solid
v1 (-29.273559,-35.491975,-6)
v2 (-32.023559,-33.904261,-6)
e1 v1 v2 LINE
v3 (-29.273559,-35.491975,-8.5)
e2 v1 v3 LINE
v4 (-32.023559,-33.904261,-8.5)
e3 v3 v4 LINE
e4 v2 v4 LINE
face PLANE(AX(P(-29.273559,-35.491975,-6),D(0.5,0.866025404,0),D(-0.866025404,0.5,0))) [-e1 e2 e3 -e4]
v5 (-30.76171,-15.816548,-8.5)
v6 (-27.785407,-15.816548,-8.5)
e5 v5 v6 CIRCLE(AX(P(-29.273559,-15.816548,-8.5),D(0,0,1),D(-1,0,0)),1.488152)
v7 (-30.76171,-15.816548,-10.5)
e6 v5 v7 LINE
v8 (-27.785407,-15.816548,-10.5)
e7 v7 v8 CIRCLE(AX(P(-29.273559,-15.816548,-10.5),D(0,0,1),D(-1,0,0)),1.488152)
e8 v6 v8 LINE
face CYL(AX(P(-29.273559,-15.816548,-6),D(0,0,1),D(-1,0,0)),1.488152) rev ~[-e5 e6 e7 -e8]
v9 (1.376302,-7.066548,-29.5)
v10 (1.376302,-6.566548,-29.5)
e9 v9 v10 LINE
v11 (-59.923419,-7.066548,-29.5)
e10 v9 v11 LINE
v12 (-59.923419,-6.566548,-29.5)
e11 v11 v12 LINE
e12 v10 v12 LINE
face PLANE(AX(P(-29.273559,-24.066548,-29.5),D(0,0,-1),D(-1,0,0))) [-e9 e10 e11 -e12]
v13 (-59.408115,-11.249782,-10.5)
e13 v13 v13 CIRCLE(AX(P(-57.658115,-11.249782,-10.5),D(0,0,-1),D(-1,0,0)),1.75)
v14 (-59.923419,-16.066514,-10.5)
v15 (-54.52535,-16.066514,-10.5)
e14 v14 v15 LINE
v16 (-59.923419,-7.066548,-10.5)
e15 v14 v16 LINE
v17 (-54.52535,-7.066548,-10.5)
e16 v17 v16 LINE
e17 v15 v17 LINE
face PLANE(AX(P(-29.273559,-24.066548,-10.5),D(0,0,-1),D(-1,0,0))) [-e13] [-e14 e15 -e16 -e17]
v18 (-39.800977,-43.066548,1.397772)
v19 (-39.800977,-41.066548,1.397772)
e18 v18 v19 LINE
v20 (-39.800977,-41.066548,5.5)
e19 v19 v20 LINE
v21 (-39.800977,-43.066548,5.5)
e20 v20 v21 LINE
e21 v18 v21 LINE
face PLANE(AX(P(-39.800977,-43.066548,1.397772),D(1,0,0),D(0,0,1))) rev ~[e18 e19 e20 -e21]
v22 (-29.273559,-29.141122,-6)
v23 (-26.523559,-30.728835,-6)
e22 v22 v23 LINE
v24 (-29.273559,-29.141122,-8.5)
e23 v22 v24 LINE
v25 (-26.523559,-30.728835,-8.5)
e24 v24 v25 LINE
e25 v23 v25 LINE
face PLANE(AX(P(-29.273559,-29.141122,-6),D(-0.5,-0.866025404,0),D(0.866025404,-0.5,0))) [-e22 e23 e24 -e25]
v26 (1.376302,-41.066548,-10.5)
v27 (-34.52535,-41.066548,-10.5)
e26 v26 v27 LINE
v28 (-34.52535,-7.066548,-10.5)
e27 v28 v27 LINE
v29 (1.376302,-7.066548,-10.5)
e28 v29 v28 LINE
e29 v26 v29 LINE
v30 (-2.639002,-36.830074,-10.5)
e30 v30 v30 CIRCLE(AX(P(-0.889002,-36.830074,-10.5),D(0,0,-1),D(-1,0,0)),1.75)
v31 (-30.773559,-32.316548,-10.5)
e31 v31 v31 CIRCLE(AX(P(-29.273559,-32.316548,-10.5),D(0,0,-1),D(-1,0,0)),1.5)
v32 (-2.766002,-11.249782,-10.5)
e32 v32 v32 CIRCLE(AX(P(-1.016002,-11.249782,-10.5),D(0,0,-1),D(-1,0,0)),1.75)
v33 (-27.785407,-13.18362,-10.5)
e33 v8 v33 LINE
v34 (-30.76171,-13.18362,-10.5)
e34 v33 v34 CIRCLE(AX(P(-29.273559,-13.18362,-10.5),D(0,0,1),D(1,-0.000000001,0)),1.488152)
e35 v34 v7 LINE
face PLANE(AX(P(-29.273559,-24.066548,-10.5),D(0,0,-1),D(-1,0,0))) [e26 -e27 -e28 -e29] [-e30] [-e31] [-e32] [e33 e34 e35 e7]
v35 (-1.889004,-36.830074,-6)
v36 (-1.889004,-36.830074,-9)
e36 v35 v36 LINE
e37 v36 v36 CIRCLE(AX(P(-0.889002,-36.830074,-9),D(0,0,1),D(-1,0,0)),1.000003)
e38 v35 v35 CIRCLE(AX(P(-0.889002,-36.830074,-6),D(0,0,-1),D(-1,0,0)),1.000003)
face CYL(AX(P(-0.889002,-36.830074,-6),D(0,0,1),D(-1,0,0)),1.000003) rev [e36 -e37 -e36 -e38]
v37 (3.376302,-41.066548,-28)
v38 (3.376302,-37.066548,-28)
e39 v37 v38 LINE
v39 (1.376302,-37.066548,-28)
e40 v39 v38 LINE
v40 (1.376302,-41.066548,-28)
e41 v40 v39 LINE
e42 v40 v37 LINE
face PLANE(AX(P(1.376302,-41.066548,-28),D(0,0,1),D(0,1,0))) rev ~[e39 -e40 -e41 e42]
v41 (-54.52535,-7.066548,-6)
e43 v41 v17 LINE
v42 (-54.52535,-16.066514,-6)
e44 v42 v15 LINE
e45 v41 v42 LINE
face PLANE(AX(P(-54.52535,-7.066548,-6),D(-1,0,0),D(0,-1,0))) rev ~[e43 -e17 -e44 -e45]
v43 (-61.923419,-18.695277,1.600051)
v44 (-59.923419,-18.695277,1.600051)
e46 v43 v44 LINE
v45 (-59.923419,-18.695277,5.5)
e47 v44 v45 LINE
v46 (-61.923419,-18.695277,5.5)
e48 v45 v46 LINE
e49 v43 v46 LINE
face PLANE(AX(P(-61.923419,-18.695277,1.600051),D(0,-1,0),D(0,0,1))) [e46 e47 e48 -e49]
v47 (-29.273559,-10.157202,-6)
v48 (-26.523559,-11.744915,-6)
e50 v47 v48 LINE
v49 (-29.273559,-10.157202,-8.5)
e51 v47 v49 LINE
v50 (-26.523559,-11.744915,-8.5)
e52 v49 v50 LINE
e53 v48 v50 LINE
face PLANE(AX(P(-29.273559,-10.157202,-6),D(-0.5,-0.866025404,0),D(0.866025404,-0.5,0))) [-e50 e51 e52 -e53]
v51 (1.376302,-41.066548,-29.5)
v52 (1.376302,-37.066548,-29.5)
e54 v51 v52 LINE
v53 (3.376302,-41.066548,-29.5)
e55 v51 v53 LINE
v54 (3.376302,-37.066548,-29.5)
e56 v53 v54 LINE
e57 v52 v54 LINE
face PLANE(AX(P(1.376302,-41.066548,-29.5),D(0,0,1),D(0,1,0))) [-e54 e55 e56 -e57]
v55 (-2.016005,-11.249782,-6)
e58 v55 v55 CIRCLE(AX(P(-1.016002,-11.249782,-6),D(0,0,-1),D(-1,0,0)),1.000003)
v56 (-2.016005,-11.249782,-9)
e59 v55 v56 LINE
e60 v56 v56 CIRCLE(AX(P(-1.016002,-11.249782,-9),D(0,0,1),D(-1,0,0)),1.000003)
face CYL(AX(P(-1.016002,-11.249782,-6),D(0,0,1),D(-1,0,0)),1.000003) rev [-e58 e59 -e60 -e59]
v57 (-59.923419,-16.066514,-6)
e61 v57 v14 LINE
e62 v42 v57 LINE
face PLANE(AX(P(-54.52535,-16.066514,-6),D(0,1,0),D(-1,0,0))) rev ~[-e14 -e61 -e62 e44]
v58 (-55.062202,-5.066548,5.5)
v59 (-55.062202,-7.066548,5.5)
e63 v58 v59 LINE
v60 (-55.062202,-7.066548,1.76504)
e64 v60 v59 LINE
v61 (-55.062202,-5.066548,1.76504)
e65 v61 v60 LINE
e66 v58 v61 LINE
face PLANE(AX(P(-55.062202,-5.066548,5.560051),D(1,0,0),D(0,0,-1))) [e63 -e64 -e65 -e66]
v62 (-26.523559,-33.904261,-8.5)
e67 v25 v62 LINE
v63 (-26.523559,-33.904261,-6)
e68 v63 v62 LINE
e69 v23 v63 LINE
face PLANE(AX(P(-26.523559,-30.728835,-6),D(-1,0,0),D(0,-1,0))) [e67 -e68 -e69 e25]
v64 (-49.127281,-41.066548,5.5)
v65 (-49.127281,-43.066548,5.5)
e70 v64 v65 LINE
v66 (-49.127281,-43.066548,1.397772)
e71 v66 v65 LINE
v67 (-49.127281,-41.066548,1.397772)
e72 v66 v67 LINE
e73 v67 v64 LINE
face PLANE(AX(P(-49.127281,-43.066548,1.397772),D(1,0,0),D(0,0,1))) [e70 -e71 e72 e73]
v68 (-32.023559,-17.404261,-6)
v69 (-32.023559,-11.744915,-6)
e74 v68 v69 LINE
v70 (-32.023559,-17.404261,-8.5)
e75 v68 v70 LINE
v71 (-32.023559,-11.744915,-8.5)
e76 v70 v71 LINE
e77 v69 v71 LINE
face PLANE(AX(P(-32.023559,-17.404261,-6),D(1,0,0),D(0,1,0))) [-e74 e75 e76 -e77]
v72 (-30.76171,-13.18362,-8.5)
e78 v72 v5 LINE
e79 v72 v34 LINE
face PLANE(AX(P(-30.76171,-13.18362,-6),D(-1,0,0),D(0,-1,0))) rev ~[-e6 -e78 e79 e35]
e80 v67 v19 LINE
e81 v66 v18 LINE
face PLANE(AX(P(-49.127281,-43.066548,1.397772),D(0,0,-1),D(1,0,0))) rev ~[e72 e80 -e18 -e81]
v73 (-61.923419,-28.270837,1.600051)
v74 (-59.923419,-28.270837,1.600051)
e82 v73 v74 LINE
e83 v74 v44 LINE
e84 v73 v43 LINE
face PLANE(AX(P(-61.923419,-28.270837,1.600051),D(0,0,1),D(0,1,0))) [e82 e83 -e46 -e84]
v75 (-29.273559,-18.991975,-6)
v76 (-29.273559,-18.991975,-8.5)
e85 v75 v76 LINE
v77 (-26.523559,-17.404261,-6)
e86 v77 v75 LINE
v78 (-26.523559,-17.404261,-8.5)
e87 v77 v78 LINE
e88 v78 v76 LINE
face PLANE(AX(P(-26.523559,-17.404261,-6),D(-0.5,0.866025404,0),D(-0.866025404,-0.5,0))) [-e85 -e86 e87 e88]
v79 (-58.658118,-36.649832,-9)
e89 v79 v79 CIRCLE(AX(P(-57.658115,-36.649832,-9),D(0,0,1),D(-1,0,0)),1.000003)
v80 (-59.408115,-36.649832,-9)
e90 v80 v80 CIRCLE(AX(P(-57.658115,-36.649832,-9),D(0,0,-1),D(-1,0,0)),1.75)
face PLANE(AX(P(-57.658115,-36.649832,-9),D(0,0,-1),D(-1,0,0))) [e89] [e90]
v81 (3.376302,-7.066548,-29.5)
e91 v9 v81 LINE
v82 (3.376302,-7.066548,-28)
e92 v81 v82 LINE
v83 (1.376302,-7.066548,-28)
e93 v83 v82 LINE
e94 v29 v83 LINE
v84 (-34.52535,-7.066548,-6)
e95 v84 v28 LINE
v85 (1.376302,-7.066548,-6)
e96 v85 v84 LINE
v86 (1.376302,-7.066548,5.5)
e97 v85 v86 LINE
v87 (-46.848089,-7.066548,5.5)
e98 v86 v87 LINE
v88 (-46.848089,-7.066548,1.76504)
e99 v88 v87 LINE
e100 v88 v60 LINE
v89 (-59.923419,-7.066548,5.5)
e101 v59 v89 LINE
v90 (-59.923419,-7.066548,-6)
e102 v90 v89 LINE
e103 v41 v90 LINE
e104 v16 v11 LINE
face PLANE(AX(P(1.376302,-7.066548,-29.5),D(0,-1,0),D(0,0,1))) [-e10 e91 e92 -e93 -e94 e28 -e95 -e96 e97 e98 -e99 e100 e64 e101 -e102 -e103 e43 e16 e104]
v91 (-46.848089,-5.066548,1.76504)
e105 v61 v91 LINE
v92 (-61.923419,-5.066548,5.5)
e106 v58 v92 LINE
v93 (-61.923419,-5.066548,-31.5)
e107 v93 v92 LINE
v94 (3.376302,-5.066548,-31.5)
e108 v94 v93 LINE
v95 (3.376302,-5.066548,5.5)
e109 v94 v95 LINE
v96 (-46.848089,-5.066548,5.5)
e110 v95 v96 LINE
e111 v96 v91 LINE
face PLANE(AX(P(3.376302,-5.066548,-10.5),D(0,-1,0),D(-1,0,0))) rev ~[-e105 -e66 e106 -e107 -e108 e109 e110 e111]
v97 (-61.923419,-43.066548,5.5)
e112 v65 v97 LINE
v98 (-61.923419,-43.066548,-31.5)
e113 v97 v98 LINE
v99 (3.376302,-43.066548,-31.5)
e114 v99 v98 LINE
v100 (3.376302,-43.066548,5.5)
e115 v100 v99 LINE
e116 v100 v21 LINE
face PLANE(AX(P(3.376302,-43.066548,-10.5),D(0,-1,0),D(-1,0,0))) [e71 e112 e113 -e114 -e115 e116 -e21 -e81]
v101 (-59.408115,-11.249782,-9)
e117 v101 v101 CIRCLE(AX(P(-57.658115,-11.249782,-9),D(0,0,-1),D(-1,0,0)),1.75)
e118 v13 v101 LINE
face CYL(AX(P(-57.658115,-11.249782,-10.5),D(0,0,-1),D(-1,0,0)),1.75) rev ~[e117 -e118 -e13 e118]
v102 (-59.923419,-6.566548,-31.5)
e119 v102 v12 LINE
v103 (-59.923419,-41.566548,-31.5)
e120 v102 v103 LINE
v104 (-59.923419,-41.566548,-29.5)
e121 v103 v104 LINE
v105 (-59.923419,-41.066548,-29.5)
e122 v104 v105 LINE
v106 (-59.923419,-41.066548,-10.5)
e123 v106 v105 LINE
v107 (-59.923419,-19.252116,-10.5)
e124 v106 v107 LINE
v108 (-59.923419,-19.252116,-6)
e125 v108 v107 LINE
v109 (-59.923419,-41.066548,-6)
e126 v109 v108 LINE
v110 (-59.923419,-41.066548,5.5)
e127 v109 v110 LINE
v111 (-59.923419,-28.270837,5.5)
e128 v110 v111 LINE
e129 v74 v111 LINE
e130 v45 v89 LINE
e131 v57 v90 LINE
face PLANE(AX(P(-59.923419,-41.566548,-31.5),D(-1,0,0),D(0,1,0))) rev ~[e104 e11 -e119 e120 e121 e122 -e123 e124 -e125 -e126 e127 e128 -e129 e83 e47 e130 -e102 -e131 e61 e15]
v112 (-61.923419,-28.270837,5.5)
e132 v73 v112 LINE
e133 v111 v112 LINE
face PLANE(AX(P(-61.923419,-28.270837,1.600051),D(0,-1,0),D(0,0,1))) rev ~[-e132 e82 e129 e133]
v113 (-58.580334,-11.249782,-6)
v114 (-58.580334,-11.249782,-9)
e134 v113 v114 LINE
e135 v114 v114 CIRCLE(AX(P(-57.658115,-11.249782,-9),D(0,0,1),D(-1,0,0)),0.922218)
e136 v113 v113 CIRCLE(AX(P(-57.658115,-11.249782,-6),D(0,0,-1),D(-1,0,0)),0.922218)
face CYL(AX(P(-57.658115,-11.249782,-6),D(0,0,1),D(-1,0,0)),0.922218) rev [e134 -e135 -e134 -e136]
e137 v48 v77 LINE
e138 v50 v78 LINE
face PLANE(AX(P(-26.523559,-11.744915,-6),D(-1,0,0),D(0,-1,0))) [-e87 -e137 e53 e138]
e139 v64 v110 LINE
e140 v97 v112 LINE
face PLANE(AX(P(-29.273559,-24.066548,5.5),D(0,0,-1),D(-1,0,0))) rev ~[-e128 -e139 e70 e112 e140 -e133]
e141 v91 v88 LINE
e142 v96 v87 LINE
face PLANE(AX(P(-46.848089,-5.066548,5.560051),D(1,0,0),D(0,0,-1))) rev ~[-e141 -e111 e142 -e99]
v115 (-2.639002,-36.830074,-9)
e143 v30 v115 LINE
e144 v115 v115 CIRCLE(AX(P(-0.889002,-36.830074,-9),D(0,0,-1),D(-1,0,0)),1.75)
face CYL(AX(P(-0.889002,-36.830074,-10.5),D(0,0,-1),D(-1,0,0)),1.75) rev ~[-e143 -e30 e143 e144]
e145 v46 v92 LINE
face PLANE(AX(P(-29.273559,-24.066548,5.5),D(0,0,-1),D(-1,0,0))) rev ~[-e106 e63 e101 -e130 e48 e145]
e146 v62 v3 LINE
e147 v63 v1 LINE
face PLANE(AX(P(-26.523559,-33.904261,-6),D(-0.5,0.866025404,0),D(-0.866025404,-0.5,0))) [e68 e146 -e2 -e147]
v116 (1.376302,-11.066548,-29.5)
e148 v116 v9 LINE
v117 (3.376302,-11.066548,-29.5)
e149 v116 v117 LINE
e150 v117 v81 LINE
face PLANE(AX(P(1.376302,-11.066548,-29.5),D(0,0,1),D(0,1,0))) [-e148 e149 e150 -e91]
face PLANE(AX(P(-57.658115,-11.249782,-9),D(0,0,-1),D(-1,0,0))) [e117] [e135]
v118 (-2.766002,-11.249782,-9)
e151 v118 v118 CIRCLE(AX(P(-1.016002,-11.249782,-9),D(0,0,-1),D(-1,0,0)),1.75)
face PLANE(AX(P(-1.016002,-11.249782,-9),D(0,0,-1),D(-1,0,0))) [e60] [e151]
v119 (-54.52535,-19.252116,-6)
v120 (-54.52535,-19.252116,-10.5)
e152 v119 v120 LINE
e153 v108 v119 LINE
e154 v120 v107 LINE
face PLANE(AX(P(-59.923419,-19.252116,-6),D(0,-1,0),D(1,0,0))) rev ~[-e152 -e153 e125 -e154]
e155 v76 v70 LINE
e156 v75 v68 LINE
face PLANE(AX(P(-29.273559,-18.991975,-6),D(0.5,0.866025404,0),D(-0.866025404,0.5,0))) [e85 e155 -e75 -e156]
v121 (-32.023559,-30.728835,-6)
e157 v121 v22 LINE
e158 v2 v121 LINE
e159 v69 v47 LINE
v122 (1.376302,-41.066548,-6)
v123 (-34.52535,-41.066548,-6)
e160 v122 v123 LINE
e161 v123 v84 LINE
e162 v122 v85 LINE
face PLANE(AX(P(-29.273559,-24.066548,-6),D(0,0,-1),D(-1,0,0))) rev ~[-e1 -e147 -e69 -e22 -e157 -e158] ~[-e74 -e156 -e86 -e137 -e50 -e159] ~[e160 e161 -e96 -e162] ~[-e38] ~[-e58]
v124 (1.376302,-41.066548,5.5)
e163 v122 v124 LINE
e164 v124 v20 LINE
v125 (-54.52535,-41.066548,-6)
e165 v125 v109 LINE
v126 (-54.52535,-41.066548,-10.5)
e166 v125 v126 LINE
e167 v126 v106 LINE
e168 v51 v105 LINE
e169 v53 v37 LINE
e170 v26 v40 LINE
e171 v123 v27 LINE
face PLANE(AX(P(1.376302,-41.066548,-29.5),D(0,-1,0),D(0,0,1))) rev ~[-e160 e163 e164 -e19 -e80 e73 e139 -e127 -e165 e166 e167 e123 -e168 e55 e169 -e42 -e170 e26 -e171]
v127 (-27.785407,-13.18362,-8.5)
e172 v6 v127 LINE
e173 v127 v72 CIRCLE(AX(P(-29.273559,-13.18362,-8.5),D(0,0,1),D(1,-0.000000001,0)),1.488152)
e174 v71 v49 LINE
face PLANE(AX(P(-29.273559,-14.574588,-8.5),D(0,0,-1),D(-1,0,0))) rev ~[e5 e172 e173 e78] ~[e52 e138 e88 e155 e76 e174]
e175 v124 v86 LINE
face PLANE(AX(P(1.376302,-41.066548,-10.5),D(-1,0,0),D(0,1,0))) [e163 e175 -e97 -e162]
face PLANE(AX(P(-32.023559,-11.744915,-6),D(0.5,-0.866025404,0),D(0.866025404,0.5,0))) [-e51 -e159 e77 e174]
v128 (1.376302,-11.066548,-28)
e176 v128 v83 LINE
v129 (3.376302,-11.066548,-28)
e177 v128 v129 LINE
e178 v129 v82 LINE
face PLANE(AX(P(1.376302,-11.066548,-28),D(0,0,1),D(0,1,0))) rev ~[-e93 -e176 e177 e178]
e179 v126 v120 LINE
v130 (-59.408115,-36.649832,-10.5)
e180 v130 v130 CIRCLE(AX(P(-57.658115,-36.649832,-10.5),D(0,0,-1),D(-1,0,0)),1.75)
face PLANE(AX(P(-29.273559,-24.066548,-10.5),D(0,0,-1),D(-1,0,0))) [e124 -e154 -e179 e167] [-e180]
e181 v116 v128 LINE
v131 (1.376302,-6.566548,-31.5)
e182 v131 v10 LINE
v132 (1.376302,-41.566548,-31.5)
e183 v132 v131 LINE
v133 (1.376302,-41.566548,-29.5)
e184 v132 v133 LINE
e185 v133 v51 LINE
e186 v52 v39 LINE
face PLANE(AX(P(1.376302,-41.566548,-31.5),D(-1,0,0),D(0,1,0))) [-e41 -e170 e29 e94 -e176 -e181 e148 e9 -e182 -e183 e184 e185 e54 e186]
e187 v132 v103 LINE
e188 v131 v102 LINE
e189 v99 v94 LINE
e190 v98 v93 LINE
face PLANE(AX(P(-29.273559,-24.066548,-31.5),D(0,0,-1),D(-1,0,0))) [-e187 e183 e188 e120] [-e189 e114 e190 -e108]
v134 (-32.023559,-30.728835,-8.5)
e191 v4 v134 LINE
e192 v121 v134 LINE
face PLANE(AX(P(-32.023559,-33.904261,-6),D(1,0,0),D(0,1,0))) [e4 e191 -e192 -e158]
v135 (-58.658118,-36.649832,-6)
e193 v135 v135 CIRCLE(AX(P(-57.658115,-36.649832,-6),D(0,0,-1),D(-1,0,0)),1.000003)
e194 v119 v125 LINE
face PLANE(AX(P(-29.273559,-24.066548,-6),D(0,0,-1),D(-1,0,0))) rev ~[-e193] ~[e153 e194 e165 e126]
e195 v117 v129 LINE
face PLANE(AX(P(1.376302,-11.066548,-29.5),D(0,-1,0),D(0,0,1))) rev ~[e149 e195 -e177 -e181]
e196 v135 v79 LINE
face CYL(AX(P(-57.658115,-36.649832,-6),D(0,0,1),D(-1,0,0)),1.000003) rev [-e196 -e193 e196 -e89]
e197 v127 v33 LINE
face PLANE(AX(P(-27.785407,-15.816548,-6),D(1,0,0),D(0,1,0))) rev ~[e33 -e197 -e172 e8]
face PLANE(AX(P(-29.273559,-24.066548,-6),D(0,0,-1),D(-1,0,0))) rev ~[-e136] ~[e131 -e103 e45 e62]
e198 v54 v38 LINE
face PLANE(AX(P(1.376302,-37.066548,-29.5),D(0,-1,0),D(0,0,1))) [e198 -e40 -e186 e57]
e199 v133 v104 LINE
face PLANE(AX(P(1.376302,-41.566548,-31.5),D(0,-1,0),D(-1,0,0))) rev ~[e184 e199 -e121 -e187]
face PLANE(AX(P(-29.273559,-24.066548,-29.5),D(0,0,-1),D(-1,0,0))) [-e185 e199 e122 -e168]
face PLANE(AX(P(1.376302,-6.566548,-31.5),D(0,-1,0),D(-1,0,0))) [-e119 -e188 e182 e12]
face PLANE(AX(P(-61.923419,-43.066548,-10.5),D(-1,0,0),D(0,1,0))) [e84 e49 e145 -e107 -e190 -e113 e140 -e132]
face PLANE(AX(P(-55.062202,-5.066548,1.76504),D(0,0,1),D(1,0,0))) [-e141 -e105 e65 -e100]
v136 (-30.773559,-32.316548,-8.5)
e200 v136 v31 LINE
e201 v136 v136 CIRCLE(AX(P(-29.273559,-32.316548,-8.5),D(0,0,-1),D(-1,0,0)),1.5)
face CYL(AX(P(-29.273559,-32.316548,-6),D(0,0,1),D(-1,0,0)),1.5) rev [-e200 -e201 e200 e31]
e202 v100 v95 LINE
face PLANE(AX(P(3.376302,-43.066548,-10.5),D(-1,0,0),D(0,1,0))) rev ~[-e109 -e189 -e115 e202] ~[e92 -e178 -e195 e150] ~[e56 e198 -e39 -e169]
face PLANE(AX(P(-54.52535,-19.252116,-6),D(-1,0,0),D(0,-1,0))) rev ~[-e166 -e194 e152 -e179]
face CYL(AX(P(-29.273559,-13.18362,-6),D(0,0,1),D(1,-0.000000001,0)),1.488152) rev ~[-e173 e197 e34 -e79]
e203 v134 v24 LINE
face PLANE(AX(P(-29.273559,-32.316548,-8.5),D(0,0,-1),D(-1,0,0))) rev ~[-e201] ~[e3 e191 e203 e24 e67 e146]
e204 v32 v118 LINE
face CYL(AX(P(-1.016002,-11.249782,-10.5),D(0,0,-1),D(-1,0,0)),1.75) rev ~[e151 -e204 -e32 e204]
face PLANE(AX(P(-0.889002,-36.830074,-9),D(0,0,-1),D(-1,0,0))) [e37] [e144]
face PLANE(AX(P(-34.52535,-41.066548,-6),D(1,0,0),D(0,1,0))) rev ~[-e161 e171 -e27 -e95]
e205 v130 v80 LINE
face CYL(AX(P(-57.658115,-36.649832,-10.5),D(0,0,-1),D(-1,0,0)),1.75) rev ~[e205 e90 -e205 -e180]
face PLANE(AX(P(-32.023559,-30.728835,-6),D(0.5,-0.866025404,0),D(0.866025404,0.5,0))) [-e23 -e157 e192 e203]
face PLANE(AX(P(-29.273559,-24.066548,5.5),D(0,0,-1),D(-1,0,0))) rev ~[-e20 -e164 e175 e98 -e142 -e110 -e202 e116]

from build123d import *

# Parameters (mm, degrees)
SKETCH_2_W           = 65.2997206
SKETCH_2_H           = 38
SKETCH_2_R           = 1.00000254
SKETCH_2_R_2         = 0.922218434
SKETCH_2_R_3         = 1.5
EXTRUDE_2_DEPTH      = 4.5
SKETCH_3_R           = 1.5
CUT_EXTRUDE_2_DEPTH  = 2.5
SKETCH_5_W           = 65.2997206
SKETCH_5_H           = 38
SKETCH_5_W_2         = 61.2997206
SKETCH_5_H_2         = 34
EXTRUDE_3_DEPTH      = 21
EXTRUDE_3_DEPTH_BACK = 16
SKETCH_7_W           = 8.214112973
SKETCH_7_H           = 3.795011114
CUT_EXTRUDE_4_DEPTH  = 3
SKETCH_8_W           = 4
SKETCH_8_H           = 9.575559499
CUT_EXTRUDE_5_DEPTH  = 3
SKETCH_9_W           = 9.326303795
SKETCH_9_H           = 4.202278939
CUT_EXTRUDE_6_DEPTH  = 3
CUT_EXTRUDE_7_DEPTH  = 10
SKETCH_15_R          = 1.75
CUT_EXTRUDE_8_DEPTH  = 1.5
SKETCH_18_W          = 61.2997206
SKETCH_18_H          = 35
CUT_EXTRUDE_9_DEPTH  = 2
SKETCH_19_W          = 1.5
SKETCH_19_H          = 4
CUT_EXTRUDE_10_DEPTH = 2


with BuildPart() as part:
    # 草图2 → 凸台-拉伸2 (new body)
    with BuildSketch(Plane(origin=(0, 0, -6), x_dir=(-1, 0, 0), z_dir=(0, 0, -1))):
        with Locations((29.273558547, -24.066548133)):
            Rectangle(SKETCH_2_W, SKETCH_2_H)
        with Locations((1.016002032, -11.24978156)):
            Circle(SKETCH_2_R, mode=Mode.SUBTRACT)
        with Locations((0.889001778, -36.83007366)):
            Circle(SKETCH_2_R, mode=Mode.SUBTRACT)
        with Locations((57.658115316, -36.64983236)):
            Circle(SKETCH_2_R, mode=Mode.SUBTRACT)
        with Locations((57.658115316, -11.24978156)):
            Circle(SKETCH_2_R_2, mode=Mode.SUBTRACT)
        with Locations((29.273558547, -32.316548133)):
            Circle(SKETCH_2_R_3, mode=Mode.SUBTRACT)
        with BuildLine():
            Line((27.785407033, -15.816548133), (27.785407033, -13.183619987))
            ThreePointArc((27.785407033, -13.183619987), (29.273558547, -11.695468472), (30.761710061, -13.183619987))
            Line((30.761710061, -13.183619987), (30.761710061, -15.816548133))
            ThreePointArc((30.761710061, -15.816548133), (29.273558547, -17.304699647), (27.785407033, -15.816548133))
        make_face(mode=Mode.SUBTRACT)
    extrude(amount=EXTRUDE_2_DEPTH)

    # 草图3 → 切除-拉伸2 (cut)
    with BuildSketch(Plane(origin=(0, 0, -6), x_dir=(-1, 0, 0), z_dir=(0, 0, -1))):
        Polygon((29.273558547, -18.991974614), (32.023558547, -17.404261373), (32.023558547, -14.920341582), (32.023558547, -14.228834893), (32.023558547, -11.744915102), (29.273558547, -10.157201862), (26.523558547, -11.744915102), (26.523558547, -14.228834893), (26.523558547, -14.920341582), (26.523558547, -17.404261373), align=None)
        with BuildLine():
            ThreePointArc((30.761710061, -15.816548133), (29.273558547, -17.304699647), (27.785407033, -15.816548133))
            Line((27.785407033, -15.816548133), (27.785407033, -13.183619987))
            ThreePointArc((27.785407033, -13.183619987), (29.273558547, -11.695468472), (30.761710061, -13.183619987))
            Line((30.761710061, -13.183619987), (30.761710061, -15.816548133))
        make_face(mode=Mode.SUBTRACT)
        Polygon((26.523558547, -30.728834893), (26.523558547, -33.904261373), (29.273558547, -35.491974614), (32.023558547, -33.904261373), (32.023558547, -30.728834893), (29.273558547, -29.141121653), align=None)
        with Locations((29.273558547, -32.316548133)):
            Circle(SKETCH_3_R, mode=Mode.SUBTRACT)
    extrude(amount=CUT_EXTRUDE_2_DEPTH, mode=Mode.SUBTRACT)

    # 草图5 → 凸台-拉伸3 (add, two sides)
    with BuildSketch(Plane(origin=(0, 0, -10.5), x_dir=(-1, 0, 0), z_dir=(0, 0, -1))) as extrude_3_sk:
        with Locations((29.273558547, -24.066548133)):
            Rectangle(SKETCH_5_W, SKETCH_5_H)
        with Locations((29.273558547, -24.066548133)):
            Rectangle(SKETCH_5_W_2, SKETCH_5_H_2, mode=Mode.SUBTRACT)
    extrude(amount=EXTRUDE_3_DEPTH)
    extrude(extrude_3_sk.sketch, amount=-EXTRUDE_3_DEPTH_BACK)

    # 草图7 → 切除-拉伸4 (cut)
    with BuildSketch(Plane(origin=(0, -5.066548133, 0), x_dir=(1, 0, 0), z_dir=(0, 1, 0))):
        with Locations((-50.955145133, -3.662545243)):
            Rectangle(SKETCH_7_W, SKETCH_7_H)
    extrude(amount=-CUT_EXTRUDE_4_DEPTH, mode=Mode.SUBTRACT)

    # 草图8 → 切除-拉伸5 (cut)
    with BuildSketch(Plane.ZY.offset(61.923418847)):
        with Locations((3.6000508, -23.483057223)):
            Rectangle(SKETCH_8_W, SKETCH_8_H)
    extrude(amount=-CUT_EXTRUDE_5_DEPTH, mode=Mode.SUBTRACT)

    # 草图9 → 切除-拉伸6 (cut)
    with BuildSketch(Plane.XZ.offset(43.066548133)):
        with Locations((-44.464129124, 3.49891133)):
            Rectangle(SKETCH_9_W, SKETCH_9_H)
    extrude(amount=-CUT_EXTRUDE_6_DEPTH, mode=Mode.SUBTRACT)

    # 草图13 → 切除-拉伸7 (cut)
    with BuildSketch(Plane.XY.offset(-6)):
        Polygon((-59.923418847, -16.066514367), (-59.923418847, -19.252115931), (-54.525349934, -19.252115931), (-54.525349934, -41.066548133), (-34.525349934, -41.066548133), (-34.525349934, -7.066548133), (-54.525349934, -7.066548133), (-54.525349934, -12.880912803), (-54.525349934, -16.066514367), align=None)
    extrude(amount=-CUT_EXTRUDE_7_DEPTH, mode=Mode.SUBTRACT)

    # 草图15 → 切除-拉伸8 (cut)
    with BuildSketch(Plane(origin=(0, 0, -10.5), x_dir=(-1, 0, 0), z_dir=(0, 0, -1))):
        with Locations((1.016002032, -11.24978156)):
            Circle(SKETCH_15_R)
        with Locations((57.658115316, -11.24978156)):
            Circle(SKETCH_15_R)
        with Locations((0.889001778, -36.83007366)):
            Circle(SKETCH_15_R)
        with Locations((57.658115316, -36.64983236)):
            Circle(SKETCH_15_R)
    extrude(amount=-CUT_EXTRUDE_8_DEPTH, mode=Mode.SUBTRACT)

    # 草图18 → 切除-拉伸9 (cut)
    with BuildSketch(Plane(origin=(0, 0, -31.5), x_dir=(-1, 0, 0), z_dir=(0, 0, -1))):
        with Locations((29.273558547, -24.066548133)):
            Rectangle(SKETCH_18_W, SKETCH_18_H)
    extrude(amount=-CUT_EXTRUDE_9_DEPTH, mode=Mode.SUBTRACT)

    # 草图19 → 切除-拉伸10 (cut)
    with BuildSketch(Plane.ZY.offset(-1.376301753)):
        with Locations((-28.75, -9.066548133)):
            Rectangle(SKETCH_19_W, SKETCH_19_H)
        with Locations((-28.75, -39.066548133)):
            Rectangle(SKETCH_19_W, SKETCH_19_H)
    extrude(amount=-CUT_EXTRUDE_10_DEPTH, mode=Mode.SUBTRACT)


solid = part.part
